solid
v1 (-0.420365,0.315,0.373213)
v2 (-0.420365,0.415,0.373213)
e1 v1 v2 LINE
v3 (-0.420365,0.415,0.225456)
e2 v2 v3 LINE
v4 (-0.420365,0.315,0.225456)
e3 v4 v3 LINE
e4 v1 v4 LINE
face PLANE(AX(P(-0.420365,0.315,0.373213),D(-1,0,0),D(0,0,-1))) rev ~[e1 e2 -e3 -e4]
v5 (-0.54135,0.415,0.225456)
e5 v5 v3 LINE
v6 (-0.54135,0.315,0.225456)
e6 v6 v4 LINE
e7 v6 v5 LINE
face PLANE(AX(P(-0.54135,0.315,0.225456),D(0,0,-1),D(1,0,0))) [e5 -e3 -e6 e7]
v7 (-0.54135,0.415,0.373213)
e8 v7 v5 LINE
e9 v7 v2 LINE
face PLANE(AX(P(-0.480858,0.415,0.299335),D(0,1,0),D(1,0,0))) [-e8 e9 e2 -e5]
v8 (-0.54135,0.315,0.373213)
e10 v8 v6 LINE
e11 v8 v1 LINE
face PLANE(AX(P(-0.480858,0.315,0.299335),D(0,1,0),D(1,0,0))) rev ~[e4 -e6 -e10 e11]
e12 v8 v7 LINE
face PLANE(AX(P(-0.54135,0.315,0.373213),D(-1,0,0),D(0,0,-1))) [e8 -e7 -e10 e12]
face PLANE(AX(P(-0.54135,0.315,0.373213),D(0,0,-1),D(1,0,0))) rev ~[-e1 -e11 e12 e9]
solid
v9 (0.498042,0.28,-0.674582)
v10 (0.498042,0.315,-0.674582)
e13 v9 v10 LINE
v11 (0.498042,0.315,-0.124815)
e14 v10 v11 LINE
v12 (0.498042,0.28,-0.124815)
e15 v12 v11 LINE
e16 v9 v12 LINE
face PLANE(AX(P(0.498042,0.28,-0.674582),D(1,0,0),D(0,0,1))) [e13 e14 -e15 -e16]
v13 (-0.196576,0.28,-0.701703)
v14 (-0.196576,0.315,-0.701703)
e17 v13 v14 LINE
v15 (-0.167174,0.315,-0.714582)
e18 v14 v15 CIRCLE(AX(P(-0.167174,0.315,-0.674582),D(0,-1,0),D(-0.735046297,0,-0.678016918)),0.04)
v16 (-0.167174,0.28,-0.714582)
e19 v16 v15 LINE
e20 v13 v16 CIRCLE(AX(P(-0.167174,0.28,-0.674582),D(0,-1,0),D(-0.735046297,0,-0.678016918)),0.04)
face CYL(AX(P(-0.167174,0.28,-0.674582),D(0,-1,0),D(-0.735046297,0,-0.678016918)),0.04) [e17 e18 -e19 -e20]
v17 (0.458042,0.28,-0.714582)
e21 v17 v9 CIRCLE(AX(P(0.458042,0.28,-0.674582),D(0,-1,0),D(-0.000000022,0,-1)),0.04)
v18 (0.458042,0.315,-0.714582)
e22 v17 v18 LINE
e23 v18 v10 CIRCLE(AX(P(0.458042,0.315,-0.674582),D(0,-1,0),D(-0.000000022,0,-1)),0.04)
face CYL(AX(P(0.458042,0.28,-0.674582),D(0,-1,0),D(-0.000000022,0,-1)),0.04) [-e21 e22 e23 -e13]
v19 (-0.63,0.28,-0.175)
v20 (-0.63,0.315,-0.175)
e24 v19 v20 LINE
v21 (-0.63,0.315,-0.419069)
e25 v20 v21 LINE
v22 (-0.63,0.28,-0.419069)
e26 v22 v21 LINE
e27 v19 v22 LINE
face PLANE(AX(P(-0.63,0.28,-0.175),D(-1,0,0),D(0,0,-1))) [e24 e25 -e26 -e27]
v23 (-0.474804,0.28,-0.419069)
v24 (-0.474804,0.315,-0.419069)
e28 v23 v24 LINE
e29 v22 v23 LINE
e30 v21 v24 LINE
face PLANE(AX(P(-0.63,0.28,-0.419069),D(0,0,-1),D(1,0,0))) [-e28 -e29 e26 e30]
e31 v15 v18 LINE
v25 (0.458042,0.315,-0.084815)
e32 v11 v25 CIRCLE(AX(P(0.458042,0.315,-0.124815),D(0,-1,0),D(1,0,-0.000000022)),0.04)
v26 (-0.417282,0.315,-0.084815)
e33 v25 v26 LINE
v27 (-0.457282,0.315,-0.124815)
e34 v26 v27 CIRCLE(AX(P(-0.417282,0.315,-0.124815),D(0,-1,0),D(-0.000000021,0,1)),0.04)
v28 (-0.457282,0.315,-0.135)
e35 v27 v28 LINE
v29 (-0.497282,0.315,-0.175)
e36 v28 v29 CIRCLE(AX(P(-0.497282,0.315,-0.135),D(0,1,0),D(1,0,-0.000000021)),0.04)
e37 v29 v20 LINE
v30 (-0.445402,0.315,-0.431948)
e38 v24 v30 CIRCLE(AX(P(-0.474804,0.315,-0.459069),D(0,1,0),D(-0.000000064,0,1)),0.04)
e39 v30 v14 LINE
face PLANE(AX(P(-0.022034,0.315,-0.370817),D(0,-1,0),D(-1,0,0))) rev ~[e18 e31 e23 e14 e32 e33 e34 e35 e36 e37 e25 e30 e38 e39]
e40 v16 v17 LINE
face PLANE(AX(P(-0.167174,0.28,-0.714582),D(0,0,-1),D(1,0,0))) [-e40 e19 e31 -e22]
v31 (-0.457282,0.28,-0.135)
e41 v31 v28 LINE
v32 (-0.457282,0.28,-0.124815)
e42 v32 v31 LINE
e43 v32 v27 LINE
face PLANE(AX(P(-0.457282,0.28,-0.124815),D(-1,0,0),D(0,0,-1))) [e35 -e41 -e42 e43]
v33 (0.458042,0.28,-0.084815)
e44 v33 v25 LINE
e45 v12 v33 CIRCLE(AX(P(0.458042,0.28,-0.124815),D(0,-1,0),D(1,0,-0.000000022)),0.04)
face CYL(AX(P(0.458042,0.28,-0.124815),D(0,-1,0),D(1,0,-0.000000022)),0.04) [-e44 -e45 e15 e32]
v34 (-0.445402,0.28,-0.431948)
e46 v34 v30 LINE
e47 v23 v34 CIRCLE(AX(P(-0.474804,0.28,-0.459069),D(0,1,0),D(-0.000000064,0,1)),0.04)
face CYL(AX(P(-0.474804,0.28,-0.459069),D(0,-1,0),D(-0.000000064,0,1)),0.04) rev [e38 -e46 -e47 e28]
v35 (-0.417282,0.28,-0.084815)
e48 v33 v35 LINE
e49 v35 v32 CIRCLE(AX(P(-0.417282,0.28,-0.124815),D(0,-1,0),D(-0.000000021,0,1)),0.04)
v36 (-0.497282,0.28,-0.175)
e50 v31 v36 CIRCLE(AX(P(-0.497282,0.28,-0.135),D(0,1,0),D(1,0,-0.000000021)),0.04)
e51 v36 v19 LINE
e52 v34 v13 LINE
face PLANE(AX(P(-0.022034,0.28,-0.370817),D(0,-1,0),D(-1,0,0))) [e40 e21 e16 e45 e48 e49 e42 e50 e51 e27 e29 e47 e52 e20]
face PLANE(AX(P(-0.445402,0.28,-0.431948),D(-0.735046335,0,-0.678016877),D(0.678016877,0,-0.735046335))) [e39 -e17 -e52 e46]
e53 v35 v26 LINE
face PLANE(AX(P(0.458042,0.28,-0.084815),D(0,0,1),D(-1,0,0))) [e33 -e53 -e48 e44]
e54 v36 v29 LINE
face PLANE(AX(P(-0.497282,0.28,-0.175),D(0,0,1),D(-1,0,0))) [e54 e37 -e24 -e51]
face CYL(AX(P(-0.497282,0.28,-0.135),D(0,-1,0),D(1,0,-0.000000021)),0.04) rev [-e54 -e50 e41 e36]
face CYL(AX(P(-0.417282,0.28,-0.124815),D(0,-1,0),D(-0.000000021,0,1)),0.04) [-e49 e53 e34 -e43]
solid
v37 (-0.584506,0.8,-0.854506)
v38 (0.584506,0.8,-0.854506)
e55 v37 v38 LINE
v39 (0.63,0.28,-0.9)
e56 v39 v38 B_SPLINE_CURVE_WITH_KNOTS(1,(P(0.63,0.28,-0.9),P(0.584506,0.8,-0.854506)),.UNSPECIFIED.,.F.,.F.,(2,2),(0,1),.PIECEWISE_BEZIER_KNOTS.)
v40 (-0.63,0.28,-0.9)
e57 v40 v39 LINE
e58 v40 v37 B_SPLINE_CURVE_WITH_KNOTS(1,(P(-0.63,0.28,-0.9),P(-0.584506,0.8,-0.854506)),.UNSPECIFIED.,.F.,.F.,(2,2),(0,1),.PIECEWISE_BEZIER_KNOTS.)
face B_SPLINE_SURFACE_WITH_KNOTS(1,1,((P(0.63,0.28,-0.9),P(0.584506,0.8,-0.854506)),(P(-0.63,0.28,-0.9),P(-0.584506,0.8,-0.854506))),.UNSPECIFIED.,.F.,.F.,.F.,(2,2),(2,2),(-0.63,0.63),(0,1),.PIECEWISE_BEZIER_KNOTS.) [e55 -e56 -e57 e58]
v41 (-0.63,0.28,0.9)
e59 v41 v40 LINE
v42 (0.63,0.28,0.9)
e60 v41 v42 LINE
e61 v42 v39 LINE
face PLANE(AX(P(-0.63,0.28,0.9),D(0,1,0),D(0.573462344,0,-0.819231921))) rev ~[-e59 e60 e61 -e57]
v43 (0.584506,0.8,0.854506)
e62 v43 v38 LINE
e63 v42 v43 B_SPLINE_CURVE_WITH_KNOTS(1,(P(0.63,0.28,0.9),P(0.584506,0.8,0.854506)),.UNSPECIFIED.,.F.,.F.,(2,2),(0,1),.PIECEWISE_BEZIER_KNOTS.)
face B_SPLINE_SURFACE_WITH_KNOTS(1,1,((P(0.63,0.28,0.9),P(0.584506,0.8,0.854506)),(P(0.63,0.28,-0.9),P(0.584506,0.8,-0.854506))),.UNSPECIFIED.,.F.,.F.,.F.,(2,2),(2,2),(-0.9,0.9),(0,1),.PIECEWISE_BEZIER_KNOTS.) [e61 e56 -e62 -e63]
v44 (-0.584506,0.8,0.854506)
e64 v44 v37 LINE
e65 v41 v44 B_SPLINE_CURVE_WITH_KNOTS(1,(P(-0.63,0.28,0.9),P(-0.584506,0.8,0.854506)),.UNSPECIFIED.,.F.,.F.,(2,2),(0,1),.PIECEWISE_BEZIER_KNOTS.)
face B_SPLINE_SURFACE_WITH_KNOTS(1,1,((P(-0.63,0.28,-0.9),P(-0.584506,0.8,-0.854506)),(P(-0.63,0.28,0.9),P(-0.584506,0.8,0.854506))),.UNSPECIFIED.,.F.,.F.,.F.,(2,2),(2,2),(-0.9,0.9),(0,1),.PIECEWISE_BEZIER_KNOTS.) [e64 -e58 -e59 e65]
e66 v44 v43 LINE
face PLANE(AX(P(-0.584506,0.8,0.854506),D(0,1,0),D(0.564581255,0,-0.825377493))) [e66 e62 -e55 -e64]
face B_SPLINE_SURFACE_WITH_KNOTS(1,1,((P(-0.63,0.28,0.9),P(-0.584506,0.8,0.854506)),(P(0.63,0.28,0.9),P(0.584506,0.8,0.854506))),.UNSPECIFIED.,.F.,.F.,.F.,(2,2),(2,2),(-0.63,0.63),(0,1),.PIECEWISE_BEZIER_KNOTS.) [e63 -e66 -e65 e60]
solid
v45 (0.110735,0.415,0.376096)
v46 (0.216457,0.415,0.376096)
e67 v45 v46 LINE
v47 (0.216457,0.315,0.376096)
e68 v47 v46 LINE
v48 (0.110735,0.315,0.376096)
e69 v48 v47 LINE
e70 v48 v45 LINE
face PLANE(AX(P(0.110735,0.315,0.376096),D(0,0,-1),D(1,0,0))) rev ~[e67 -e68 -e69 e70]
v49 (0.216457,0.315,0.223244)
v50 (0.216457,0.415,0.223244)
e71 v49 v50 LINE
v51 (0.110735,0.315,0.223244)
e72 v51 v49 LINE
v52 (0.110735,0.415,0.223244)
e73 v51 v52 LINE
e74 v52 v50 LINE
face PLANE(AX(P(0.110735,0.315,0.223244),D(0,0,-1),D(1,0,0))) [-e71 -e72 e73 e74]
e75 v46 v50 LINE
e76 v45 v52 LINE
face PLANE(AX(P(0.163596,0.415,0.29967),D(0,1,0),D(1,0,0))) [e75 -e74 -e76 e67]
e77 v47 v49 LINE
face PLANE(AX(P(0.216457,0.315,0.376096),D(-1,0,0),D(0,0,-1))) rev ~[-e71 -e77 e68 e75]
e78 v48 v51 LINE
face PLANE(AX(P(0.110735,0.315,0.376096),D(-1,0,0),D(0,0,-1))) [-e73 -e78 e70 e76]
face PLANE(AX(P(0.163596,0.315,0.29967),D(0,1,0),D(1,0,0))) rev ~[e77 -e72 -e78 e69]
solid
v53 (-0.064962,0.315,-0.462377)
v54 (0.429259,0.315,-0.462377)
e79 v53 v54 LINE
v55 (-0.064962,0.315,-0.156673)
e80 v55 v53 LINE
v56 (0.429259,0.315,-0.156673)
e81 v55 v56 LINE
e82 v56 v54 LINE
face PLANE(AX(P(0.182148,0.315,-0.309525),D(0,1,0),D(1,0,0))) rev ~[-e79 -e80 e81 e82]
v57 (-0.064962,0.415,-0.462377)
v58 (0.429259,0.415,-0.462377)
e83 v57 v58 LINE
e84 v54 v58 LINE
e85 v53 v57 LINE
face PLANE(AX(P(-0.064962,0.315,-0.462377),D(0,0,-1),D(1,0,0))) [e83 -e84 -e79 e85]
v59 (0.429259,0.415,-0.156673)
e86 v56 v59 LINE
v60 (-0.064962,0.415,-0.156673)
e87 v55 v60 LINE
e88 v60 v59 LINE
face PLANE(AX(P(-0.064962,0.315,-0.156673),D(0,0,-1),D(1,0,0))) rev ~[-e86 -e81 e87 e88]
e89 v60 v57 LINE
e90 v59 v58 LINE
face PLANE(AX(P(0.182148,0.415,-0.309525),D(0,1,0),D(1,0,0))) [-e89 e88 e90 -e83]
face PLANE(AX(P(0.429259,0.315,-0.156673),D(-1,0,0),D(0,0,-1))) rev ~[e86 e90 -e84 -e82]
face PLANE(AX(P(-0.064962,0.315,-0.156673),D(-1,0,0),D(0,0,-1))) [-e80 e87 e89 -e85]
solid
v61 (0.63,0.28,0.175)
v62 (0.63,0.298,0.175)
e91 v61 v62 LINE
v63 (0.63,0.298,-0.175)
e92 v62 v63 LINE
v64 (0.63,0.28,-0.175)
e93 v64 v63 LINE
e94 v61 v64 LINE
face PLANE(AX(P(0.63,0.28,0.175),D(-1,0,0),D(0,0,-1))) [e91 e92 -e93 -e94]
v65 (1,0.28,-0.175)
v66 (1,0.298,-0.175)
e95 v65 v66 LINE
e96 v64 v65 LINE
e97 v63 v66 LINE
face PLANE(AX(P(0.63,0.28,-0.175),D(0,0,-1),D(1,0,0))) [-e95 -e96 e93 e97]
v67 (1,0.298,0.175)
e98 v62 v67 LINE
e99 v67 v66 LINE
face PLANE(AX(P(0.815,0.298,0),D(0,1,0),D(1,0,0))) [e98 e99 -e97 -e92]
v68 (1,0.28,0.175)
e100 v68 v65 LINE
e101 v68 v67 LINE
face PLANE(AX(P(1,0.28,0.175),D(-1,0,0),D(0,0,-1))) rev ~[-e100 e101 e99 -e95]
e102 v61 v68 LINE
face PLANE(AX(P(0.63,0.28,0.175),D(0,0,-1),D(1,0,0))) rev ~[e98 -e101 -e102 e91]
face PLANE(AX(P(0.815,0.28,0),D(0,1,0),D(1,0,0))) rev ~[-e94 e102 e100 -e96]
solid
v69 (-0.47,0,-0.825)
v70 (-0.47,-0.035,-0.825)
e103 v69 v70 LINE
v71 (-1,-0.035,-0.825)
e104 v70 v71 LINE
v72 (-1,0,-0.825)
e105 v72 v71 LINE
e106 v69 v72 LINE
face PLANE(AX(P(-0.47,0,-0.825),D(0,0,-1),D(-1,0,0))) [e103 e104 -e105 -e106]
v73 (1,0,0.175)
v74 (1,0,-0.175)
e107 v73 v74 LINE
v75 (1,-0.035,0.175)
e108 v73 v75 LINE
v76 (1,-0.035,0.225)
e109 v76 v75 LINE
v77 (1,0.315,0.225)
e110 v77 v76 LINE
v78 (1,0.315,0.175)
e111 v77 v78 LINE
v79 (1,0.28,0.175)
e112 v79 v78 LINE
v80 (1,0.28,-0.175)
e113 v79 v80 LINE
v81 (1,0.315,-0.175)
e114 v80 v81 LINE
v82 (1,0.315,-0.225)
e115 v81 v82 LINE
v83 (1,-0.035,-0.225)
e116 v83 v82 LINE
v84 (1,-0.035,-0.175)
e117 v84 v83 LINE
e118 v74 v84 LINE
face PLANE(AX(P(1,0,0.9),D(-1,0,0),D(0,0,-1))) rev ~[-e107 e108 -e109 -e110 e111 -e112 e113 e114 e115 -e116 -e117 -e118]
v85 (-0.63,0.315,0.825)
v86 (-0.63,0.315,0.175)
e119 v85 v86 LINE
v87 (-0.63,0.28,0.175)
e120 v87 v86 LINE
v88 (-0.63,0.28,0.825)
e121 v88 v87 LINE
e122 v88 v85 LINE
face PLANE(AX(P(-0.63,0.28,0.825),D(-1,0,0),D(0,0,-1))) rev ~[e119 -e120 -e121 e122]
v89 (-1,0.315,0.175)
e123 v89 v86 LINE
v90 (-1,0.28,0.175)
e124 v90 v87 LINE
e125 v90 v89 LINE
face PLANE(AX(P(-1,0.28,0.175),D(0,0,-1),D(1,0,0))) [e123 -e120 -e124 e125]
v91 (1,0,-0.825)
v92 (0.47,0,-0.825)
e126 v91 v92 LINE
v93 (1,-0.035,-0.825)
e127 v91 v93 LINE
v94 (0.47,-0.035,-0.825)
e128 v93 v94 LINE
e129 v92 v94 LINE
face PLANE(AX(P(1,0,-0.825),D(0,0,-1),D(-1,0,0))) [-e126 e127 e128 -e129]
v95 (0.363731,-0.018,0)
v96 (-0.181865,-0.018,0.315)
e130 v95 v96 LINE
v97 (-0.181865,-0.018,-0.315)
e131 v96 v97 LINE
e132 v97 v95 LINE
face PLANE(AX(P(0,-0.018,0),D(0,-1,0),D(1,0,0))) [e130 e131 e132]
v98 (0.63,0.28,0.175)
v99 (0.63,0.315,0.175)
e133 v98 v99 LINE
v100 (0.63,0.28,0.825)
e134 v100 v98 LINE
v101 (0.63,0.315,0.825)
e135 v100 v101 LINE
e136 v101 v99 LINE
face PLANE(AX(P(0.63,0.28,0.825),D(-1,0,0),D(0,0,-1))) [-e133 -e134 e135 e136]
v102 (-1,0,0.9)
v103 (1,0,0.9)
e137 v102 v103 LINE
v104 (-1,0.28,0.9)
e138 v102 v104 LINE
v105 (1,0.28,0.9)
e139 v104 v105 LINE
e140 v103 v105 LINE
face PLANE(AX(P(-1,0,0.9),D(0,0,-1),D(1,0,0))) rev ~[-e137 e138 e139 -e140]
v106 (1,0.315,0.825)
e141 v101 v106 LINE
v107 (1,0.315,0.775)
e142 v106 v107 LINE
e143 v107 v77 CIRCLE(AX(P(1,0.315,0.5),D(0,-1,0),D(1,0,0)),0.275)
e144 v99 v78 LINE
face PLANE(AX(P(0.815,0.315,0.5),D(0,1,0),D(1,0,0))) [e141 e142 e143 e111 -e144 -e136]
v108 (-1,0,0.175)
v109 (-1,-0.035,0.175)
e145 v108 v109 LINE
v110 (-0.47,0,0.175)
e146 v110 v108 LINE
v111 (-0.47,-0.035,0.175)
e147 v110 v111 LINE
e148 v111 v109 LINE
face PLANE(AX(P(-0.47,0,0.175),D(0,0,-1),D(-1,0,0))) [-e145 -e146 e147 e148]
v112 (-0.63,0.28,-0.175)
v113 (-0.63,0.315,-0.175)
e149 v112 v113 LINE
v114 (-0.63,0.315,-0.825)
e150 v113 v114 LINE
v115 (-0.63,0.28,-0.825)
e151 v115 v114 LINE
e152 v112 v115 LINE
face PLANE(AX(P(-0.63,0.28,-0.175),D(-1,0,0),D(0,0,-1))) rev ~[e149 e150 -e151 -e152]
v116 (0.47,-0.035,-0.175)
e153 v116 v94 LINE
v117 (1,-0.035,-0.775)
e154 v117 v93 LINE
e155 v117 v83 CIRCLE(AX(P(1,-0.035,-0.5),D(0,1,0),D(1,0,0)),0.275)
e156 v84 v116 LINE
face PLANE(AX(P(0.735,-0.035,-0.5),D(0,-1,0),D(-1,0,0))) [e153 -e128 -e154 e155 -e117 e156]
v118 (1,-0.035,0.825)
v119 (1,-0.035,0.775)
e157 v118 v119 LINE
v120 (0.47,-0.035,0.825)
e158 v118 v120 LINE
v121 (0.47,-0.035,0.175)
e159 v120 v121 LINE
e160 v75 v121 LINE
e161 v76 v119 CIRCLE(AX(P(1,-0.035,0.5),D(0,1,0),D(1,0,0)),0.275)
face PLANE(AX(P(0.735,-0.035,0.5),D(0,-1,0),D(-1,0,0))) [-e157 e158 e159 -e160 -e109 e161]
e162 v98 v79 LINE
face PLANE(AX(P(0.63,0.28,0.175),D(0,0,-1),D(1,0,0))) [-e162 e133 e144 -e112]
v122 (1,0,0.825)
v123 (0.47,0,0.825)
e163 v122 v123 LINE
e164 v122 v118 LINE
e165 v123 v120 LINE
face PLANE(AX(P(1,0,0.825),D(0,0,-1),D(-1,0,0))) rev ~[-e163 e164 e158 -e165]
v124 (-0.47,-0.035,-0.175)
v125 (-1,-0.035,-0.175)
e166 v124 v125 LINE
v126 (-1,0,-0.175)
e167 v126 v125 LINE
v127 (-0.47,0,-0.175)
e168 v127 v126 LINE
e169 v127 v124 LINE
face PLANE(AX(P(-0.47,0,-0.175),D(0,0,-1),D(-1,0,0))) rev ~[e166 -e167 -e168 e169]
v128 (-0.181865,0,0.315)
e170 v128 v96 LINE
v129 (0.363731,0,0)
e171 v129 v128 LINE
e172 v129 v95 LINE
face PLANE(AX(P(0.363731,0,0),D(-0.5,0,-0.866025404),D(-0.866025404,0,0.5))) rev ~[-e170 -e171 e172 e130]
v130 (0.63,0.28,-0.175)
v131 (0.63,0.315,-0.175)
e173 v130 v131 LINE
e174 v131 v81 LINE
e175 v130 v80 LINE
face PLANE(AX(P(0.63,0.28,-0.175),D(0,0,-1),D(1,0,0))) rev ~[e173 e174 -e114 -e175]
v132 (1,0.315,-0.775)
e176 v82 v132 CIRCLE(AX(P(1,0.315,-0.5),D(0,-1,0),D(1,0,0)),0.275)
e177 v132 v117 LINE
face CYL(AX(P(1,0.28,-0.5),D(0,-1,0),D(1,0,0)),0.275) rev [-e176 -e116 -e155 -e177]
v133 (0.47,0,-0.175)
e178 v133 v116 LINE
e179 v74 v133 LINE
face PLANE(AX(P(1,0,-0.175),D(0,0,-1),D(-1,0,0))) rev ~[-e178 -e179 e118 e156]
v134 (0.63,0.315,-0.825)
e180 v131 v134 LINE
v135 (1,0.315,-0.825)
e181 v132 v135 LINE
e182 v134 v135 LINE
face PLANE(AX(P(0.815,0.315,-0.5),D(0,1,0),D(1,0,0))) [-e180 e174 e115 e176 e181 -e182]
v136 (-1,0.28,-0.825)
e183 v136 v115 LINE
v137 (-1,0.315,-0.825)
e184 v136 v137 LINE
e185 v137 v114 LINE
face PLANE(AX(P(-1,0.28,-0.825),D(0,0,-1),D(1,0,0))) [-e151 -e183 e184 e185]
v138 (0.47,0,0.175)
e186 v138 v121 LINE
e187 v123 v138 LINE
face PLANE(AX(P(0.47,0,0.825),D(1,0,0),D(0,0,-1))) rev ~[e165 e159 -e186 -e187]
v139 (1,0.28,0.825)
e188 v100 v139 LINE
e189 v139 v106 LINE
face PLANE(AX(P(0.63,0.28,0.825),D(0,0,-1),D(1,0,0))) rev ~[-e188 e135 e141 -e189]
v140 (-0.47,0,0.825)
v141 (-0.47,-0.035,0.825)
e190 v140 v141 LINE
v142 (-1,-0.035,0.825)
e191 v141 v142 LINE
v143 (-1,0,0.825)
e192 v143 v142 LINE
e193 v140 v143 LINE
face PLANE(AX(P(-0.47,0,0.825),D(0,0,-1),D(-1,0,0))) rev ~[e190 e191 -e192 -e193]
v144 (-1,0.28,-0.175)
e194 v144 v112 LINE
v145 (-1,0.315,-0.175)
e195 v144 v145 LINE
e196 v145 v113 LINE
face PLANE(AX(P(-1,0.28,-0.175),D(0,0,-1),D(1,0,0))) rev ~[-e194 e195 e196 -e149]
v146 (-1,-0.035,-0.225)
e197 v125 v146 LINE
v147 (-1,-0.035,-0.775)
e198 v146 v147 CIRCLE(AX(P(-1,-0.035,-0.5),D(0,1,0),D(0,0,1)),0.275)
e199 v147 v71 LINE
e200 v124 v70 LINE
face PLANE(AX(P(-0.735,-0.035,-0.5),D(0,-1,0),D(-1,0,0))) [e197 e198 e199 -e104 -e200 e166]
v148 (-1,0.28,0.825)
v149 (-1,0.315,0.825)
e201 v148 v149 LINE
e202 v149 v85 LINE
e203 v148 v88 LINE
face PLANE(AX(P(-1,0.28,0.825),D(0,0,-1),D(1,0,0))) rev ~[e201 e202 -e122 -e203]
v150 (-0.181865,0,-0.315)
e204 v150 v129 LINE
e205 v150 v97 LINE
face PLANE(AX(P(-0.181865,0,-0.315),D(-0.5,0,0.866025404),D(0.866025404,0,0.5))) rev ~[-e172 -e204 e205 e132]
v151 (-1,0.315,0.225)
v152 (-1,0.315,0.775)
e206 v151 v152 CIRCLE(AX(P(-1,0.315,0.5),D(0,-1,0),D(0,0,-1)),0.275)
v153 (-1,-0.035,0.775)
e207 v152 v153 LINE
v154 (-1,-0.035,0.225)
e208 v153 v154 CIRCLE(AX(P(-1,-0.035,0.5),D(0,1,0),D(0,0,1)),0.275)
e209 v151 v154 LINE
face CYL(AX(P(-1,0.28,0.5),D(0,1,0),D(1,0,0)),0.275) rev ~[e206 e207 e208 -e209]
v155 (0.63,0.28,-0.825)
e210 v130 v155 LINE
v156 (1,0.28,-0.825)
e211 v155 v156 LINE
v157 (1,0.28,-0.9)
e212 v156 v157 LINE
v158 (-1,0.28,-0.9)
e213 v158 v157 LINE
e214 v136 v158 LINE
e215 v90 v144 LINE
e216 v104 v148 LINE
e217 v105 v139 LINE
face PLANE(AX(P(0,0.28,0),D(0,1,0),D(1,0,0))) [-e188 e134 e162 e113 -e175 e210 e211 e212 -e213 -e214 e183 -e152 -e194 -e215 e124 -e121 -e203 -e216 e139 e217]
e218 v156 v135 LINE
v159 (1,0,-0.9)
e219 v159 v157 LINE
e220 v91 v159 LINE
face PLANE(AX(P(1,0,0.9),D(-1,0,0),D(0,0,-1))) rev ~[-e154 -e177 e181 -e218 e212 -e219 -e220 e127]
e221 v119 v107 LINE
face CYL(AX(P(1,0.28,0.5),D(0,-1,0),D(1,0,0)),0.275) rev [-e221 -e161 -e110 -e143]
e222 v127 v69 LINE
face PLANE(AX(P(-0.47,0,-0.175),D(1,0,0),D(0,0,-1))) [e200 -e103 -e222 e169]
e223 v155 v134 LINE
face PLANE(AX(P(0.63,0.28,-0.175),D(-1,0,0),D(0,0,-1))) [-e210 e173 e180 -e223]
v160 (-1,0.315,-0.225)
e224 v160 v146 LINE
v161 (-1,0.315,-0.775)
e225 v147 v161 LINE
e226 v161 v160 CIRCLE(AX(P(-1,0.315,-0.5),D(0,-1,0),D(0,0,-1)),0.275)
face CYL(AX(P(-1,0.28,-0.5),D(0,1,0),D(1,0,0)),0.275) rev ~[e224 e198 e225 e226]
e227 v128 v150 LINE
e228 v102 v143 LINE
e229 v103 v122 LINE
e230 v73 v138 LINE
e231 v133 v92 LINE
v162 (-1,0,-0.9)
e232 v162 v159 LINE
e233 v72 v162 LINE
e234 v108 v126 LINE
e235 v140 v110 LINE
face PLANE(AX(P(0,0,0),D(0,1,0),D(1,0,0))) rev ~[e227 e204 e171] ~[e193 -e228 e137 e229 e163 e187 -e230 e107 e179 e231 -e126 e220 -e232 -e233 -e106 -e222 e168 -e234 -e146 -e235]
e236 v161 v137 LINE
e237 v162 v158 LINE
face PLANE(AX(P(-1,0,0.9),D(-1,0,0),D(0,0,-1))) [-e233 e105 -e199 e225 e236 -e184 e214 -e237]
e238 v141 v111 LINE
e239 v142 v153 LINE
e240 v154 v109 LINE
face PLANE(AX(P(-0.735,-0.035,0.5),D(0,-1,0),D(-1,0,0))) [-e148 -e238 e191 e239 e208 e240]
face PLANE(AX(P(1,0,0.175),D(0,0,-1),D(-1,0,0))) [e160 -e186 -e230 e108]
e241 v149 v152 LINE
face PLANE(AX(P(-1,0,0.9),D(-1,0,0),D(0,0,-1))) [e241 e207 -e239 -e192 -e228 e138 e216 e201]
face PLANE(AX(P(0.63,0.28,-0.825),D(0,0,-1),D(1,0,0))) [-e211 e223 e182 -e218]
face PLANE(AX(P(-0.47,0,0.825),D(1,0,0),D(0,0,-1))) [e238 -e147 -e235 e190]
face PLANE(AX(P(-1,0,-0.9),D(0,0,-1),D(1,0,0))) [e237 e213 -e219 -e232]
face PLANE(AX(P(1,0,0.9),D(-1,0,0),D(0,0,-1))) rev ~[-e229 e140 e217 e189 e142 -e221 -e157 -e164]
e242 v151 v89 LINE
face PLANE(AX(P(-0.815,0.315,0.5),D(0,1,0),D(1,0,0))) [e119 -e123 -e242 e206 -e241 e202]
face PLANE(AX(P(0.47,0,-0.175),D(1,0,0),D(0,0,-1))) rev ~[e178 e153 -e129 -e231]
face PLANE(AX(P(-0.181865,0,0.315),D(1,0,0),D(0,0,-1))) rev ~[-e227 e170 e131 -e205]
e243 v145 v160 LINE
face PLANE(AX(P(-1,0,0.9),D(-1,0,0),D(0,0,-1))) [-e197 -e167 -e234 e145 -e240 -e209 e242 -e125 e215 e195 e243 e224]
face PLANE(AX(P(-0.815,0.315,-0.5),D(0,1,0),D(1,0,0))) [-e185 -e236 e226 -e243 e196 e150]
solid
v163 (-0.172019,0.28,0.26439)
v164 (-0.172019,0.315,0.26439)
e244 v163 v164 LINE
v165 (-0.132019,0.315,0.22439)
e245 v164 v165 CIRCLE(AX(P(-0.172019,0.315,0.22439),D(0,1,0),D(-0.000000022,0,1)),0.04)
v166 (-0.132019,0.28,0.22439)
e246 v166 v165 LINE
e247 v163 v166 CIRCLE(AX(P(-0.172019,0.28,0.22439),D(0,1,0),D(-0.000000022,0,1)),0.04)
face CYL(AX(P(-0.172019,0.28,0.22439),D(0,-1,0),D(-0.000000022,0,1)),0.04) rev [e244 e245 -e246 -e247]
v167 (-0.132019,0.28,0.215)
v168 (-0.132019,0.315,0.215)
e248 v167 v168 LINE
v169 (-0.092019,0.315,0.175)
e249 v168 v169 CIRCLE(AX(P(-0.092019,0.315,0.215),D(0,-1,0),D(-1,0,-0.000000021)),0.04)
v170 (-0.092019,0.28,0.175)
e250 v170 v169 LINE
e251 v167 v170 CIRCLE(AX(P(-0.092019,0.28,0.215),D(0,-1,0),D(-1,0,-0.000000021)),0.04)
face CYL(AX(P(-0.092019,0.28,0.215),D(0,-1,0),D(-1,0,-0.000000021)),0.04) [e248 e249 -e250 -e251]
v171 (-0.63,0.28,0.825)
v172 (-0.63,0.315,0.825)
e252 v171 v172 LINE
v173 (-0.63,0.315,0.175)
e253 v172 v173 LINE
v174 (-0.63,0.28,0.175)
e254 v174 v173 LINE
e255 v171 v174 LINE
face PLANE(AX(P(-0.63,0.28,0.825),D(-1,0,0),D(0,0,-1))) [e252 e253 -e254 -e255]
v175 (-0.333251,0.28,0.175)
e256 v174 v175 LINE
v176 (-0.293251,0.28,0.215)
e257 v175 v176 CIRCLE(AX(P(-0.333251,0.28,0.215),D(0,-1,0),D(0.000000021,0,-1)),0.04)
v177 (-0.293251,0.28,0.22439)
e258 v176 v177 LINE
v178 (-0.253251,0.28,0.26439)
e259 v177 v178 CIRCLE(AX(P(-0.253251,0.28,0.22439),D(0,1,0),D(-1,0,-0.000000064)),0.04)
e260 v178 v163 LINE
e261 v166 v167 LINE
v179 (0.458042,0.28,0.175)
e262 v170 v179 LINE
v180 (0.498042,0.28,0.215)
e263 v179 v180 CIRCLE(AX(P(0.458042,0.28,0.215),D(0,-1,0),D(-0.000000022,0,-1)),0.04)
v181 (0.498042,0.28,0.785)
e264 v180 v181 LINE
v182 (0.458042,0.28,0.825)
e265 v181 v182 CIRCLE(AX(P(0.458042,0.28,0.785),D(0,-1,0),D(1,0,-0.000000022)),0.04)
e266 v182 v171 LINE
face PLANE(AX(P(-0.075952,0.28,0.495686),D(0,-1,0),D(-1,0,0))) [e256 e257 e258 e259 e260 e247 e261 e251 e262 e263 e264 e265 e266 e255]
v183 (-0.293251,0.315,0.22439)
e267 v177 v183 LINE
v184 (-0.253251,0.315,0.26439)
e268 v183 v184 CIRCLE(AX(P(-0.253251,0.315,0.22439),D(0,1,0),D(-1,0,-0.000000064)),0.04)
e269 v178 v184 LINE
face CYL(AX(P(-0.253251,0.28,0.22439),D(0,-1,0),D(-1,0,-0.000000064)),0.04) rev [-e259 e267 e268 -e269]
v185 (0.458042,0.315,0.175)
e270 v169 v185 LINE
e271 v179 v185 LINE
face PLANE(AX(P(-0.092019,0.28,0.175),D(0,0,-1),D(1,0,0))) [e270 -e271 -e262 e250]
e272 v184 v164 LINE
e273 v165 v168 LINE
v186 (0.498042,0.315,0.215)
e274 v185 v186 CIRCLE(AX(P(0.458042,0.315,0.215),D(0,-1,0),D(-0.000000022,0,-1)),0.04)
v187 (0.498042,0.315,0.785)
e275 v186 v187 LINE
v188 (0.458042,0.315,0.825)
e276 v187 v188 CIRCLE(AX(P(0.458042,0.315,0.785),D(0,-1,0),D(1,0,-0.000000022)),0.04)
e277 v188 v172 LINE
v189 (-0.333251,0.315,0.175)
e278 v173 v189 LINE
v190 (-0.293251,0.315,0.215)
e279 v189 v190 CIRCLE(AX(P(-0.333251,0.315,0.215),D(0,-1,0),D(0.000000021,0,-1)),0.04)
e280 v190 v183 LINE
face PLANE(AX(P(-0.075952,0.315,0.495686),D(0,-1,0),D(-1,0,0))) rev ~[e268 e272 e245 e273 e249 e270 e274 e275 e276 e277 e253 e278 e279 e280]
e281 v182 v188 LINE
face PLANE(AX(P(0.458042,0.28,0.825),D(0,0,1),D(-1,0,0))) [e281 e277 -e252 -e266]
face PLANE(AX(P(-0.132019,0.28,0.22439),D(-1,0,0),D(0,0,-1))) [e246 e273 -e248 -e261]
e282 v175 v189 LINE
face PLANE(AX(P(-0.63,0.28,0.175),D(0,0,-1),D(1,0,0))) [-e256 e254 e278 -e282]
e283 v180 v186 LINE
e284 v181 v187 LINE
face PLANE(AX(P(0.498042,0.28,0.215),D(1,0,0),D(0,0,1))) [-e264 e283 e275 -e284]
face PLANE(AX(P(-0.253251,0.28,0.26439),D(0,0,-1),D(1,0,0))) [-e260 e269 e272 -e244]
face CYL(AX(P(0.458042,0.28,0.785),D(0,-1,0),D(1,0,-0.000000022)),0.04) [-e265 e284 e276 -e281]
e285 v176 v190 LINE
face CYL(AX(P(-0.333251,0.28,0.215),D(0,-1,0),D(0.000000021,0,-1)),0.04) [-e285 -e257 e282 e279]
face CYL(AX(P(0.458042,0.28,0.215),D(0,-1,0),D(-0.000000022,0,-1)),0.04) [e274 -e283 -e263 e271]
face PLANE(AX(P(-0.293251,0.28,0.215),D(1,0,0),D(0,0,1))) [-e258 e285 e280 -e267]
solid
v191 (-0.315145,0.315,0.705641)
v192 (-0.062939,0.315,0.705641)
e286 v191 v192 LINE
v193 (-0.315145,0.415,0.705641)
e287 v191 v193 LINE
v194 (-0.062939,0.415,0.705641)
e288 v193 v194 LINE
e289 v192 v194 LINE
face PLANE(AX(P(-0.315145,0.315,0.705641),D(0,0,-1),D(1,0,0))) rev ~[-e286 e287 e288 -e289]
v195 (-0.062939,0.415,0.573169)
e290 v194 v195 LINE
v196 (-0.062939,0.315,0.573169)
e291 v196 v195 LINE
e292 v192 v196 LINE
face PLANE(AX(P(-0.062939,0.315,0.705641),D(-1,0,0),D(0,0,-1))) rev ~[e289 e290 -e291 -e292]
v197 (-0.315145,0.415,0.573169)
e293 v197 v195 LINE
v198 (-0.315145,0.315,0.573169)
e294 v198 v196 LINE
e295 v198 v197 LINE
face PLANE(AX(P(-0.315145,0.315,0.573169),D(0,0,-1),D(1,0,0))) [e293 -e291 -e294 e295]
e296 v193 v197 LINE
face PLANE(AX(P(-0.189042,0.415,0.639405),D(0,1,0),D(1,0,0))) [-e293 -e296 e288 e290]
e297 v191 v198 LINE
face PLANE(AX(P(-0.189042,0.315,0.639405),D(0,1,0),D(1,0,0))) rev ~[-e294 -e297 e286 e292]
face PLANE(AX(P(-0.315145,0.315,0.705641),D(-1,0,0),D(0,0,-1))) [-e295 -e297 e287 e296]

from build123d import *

# Parameters (mm, degrees)
SKETCH_1_W               = 2
SKETCH_1_H               = 1.8
EXTRUDE_1_DEPTH          = 0.28
EXTRUDE_3_DEPTH          = 0.018
SKETCH_8_W               = 0.53
SKETCH_8_H               = 0.65
EXTRUDE_4_DEPTH          = 0.035
SKETCH_9_W               = 0.37
SKETCH_9_H               = 0.65
EXTRUDE_5_DEPTH          = 0.035
SKETCH_2_R               = 0.275
CUT_EXTRUDE_2_DEPTH      = 1.035
CUT_EXTRUDE_2_DEPTH_BACK = 1.315
SKETCH_13_W              = 1.26
SKETCH_13_H              = 1.8
EXTRUDE_9_DEPTH          = 0.52
EXTRUDE_9_TAPER          = 5
SKETCH_14_W              = 0.37
SKETCH_14_H              = 0.35
EXTRUDE_10_DEPTH         = 0.018
EXTRUDE_11_DEPTH         = 0.035
EXTRUDE_11_2_DEPTH       = 0.035
SKETCH_16_W              = 0.49422098
SKETCH_16_H              = 0.305703699
EXTRUDE_12_DEPTH         = 0.1
SKETCH_16_W_2            = 0.120985562
SKETCH_16_H_2            = 0.147756788
EXTRUDE_12_2_DEPTH       = 0.1
SKETCH_16_W_3            = 0.105722529
SKETCH_16_H_3            = 0.15285185
EXTRUDE_12_3_DEPTH       = 0.1
SKETCH_16_W_4            = 0.252205552
SKETCH_16_H_4            = 0.132471603
EXTRUDE_12_4_DEPTH       = 0.1


with BuildPart() as part:
    # Эскиз1 → Бобышка-Вытянуть1 (new body)
    with BuildSketch(Plane(origin=(0, 0, 0), x_dir=(1, 0, 0), z_dir=(0, 1, 0))):
        Rectangle(SKETCH_1_W, SKETCH_1_H)
    extrude(amount=EXTRUDE_1_DEPTH)

    # Эскиз7 → Бобышка-Вытянуть3 (add)
    with BuildSketch(Plane.XZ):
        Polygon((0.36373067, 0), (-0.181865335, 0.315), (-0.181865335, -0.315), align=None)
    extrude(amount=EXTRUDE_3_DEPTH)

    # Эскиз8 → Бобышка-Вытянуть4 (add)
    with BuildSketch(Plane(origin=(0, 0, 0), x_dir=(-1, 0, 0), z_dir=(0, -1, 0))):
        with Locations((-0.735, -0.5)):
            Rectangle(SKETCH_8_W, SKETCH_8_H)
        with Locations((0.735, -0.5)):
            Rectangle(SKETCH_8_W, SKETCH_8_H)
        with Locations((-0.735, 0.5)):
            Rectangle(SKETCH_8_W, SKETCH_8_H)
        with Locations((0.735, 0.5)):
            Rectangle(SKETCH_8_W, SKETCH_8_H)
    extrude(amount=EXTRUDE_4_DEPTH)

    # Эскиз9 → Бобышка-Вытянуть5 (add)
    with BuildSketch(Plane(origin=(0, 0.28, 0), x_dir=(1, 0, 0), z_dir=(0, 1, 0))):
        with Locations((0.815, -0.5)):
            Rectangle(SKETCH_9_W, SKETCH_9_H)
        with Locations((0.815, 0.5)):
            Rectangle(SKETCH_9_W, SKETCH_9_H)
        with Locations((-0.815, -0.5)):
            Rectangle(SKETCH_9_W, SKETCH_9_H)
        with Locations((-0.815, 0.5)):
            Rectangle(SKETCH_9_W, SKETCH_9_H)
    extrude(amount=EXTRUDE_5_DEPTH)

    # Эскиз2 → Вырез-Вытянуть2 (cut, two sides)
    with BuildSketch(Plane(origin=(0, 0.28, 0), x_dir=(1, 0, 0), z_dir=(0, 1, 0))) as cut_extrude_2_sk:
        with Locations((1, 0.5)):
            Circle(SKETCH_2_R)
        with Locations((1, -0.5)):
            Circle(SKETCH_2_R)
        with Locations((-1, 0.5)):
            Circle(SKETCH_2_R)
        with Locations((-1, -0.5)):
            Circle(SKETCH_2_R)
    extrude(amount=CUT_EXTRUDE_2_DEPTH, mode=Mode.SUBTRACT)
    extrude(cut_extrude_2_sk.sketch, amount=-CUT_EXTRUDE_2_DEPTH_BACK, mode=Mode.SUBTRACT)


with BuildPart() as body_2:
    # Эскиз13 → Бобышка-Вытянуть9 (new body)
    with BuildSketch(Plane(origin=(0, 0.28, 0), x_dir=(1, 0, 0), z_dir=(0, 1, 0))):
        Rectangle(SKETCH_13_W, SKETCH_13_H)
    extrude(amount=EXTRUDE_9_DEPTH, taper=EXTRUDE_9_TAPER)


with BuildPart() as body_3:
    # Эскиз14 → Бобышка-Вытянуть10 (new body)
    with BuildSketch(Plane(origin=(0, 0.28, 0), x_dir=(1, 0, 0), z_dir=(0, 1, 0))):
        with Locations((0.815, 0)):
            Rectangle(SKETCH_14_W, SKETCH_14_H)
    extrude(amount=EXTRUDE_10_DEPTH)


with BuildPart() as body_4:
    # Эскиз15 → Бобышка-Вытянуть11 (new body)
    with BuildSketch(Plane(origin=(0, 0.28, 0), x_dir=(1, 0, 0), z_dir=(0, 1, 0))):
        with BuildLine():
            Line((-0.63, 0.419068821), (-0.47480357, 0.419068821))
            ThreePointArc((-0.47480357, 0.419068821), (-0.458754068, 0.422429859), (-0.445401716, 0.431948146))
            Line((-0.445401716, 0.431948146), (-0.196576052, 0.701703072))
            ThreePointArc((-0.196576052, 0.701703072), (-0.1832237, 0.711221358), (-0.167174198, 0.714582397))
            Line((-0.167174198, 0.714582397), (0.458042276, 0.714582397))
            ThreePointArc((0.458042276, 0.714582397), (0.486326548, 0.702866668), (0.498042276, 0.674582397))
            Line((0.498042276, 0.674582397), (0.498042276, 0.124815207))
            ThreePointArc((0.498042276, 0.124815207), (0.486326548, 0.096530936), (0.458042276, 0.084815207))
            Line((0.458042276, 0.084815207), (-0.417281783, 0.084815207))
            ThreePointArc((-0.417281783, 0.084815207), (-0.445566054, 0.096530936), (-0.457281783, 0.124815207))
            Line((-0.457281783, 0.124815207), (-0.457281783, 0.135))
            ThreePointArc((-0.457281783, 0.135), (-0.468997512, 0.163284271), (-0.497281783, 0.175))
            Line((-0.497281783, 0.175), (-0.63, 0.175))
            Line((-0.63, 0.175), (-0.63, 0.419068821))
        make_face()
    extrude(amount=EXTRUDE_11_DEPTH)


with BuildPart() as body_5:
    # Эскиз15 → Extrude 11 2 (new body)
    with BuildSketch(Plane(origin=(0, 0.28, 0), x_dir=(1, 0, 0), z_dir=(0, 1, 0))):
        with BuildLine():
            Line((-0.63, -0.175), (-0.333250558, -0.175))
            ThreePointArc((-0.333250558, -0.175), (-0.304966287, -0.186715729), (-0.293250558, -0.215))
            Line((-0.293250558, -0.215), (-0.293250558, -0.224389621))
            ThreePointArc((-0.293250558, -0.224389621), (-0.28153483, -0.252673893), (-0.253250558, -0.264389621))
            Line((-0.253250558, -0.264389621), (-0.172018831, -0.264389621))
            ThreePointArc((-0.172018831, -0.264389621), (-0.14373456, -0.252673893), (-0.132018831, -0.224389621))
            Line((-0.132018831, -0.224389621), (-0.132018831, -0.215))
            ThreePointArc((-0.132018831, -0.215), (-0.120303102, -0.186715729), (-0.092018831, -0.175))
            Line((-0.092018831, -0.175), (0.458042276, -0.175))
            ThreePointArc((0.458042276, -0.175), (0.486326548, -0.186715729), (0.498042276, -0.215))
            Line((0.498042276, -0.215), (0.498042276, -0.785))
            ThreePointArc((0.498042276, -0.785), (0.486326548, -0.813284271), (0.458042276, -0.825))
            Line((0.458042276, -0.825), (-0.63, -0.825))
            Line((-0.63, -0.825), (-0.63, -0.175))
        make_face()
    extrude(amount=EXTRUDE_11_2_DEPTH)


with BuildPart() as body_6:
    # Эскиз16 → Бобышка-Вытянуть12 (new body)
    with BuildSketch(Plane(origin=(0, 0.315, 0), x_dir=(1, 0, 0), z_dir=(0, 1, 0))):
        with Locations((0.182148454, 0.309524996)):
            Rectangle(SKETCH_16_W, SKETCH_16_H)
    extrude(amount=EXTRUDE_12_DEPTH)


with BuildPart() as body_7:
    # Эскиз16 → Extrude 12 2 (new body)
    with BuildSketch(Plane(origin=(0, 0.315, 0), x_dir=(1, 0, 0), z_dir=(0, 1, 0))):
        with Locations((-0.480857519, -0.299334872)):
            Rectangle(SKETCH_16_W_2, SKETCH_16_H_2)
    extrude(amount=EXTRUDE_12_2_DEPTH)


with BuildPart() as body_8:
    # Эскиз16 → Extrude 12 3 (new body)
    with BuildSketch(Plane(origin=(0, 0.315, 0), x_dir=(1, 0, 0), z_dir=(0, 1, 0))):
        with Locations((0.163595889, -0.299669803)):
            Rectangle(SKETCH_16_W_3, SKETCH_16_H_3)
    extrude(amount=EXTRUDE_12_3_DEPTH)


with BuildPart() as body_9:
    # Эскиз16 → Extrude 12 4 (new body)
    with BuildSketch(Plane(origin=(0, 0.315, 0), x_dir=(1, 0, 0), z_dir=(0, 1, 0))):
        with Locations((-0.189041788, -0.639404851)):
            Rectangle(SKETCH_16_W_4, SKETCH_16_H_4)
    extrude(amount=EXTRUDE_12_4_DEPTH)


solid = Compound([part.part, body_2.part, body_3.part, body_4.part, body_5.part, body_6.part, body_7.part, body_8.part, body_9.part])
